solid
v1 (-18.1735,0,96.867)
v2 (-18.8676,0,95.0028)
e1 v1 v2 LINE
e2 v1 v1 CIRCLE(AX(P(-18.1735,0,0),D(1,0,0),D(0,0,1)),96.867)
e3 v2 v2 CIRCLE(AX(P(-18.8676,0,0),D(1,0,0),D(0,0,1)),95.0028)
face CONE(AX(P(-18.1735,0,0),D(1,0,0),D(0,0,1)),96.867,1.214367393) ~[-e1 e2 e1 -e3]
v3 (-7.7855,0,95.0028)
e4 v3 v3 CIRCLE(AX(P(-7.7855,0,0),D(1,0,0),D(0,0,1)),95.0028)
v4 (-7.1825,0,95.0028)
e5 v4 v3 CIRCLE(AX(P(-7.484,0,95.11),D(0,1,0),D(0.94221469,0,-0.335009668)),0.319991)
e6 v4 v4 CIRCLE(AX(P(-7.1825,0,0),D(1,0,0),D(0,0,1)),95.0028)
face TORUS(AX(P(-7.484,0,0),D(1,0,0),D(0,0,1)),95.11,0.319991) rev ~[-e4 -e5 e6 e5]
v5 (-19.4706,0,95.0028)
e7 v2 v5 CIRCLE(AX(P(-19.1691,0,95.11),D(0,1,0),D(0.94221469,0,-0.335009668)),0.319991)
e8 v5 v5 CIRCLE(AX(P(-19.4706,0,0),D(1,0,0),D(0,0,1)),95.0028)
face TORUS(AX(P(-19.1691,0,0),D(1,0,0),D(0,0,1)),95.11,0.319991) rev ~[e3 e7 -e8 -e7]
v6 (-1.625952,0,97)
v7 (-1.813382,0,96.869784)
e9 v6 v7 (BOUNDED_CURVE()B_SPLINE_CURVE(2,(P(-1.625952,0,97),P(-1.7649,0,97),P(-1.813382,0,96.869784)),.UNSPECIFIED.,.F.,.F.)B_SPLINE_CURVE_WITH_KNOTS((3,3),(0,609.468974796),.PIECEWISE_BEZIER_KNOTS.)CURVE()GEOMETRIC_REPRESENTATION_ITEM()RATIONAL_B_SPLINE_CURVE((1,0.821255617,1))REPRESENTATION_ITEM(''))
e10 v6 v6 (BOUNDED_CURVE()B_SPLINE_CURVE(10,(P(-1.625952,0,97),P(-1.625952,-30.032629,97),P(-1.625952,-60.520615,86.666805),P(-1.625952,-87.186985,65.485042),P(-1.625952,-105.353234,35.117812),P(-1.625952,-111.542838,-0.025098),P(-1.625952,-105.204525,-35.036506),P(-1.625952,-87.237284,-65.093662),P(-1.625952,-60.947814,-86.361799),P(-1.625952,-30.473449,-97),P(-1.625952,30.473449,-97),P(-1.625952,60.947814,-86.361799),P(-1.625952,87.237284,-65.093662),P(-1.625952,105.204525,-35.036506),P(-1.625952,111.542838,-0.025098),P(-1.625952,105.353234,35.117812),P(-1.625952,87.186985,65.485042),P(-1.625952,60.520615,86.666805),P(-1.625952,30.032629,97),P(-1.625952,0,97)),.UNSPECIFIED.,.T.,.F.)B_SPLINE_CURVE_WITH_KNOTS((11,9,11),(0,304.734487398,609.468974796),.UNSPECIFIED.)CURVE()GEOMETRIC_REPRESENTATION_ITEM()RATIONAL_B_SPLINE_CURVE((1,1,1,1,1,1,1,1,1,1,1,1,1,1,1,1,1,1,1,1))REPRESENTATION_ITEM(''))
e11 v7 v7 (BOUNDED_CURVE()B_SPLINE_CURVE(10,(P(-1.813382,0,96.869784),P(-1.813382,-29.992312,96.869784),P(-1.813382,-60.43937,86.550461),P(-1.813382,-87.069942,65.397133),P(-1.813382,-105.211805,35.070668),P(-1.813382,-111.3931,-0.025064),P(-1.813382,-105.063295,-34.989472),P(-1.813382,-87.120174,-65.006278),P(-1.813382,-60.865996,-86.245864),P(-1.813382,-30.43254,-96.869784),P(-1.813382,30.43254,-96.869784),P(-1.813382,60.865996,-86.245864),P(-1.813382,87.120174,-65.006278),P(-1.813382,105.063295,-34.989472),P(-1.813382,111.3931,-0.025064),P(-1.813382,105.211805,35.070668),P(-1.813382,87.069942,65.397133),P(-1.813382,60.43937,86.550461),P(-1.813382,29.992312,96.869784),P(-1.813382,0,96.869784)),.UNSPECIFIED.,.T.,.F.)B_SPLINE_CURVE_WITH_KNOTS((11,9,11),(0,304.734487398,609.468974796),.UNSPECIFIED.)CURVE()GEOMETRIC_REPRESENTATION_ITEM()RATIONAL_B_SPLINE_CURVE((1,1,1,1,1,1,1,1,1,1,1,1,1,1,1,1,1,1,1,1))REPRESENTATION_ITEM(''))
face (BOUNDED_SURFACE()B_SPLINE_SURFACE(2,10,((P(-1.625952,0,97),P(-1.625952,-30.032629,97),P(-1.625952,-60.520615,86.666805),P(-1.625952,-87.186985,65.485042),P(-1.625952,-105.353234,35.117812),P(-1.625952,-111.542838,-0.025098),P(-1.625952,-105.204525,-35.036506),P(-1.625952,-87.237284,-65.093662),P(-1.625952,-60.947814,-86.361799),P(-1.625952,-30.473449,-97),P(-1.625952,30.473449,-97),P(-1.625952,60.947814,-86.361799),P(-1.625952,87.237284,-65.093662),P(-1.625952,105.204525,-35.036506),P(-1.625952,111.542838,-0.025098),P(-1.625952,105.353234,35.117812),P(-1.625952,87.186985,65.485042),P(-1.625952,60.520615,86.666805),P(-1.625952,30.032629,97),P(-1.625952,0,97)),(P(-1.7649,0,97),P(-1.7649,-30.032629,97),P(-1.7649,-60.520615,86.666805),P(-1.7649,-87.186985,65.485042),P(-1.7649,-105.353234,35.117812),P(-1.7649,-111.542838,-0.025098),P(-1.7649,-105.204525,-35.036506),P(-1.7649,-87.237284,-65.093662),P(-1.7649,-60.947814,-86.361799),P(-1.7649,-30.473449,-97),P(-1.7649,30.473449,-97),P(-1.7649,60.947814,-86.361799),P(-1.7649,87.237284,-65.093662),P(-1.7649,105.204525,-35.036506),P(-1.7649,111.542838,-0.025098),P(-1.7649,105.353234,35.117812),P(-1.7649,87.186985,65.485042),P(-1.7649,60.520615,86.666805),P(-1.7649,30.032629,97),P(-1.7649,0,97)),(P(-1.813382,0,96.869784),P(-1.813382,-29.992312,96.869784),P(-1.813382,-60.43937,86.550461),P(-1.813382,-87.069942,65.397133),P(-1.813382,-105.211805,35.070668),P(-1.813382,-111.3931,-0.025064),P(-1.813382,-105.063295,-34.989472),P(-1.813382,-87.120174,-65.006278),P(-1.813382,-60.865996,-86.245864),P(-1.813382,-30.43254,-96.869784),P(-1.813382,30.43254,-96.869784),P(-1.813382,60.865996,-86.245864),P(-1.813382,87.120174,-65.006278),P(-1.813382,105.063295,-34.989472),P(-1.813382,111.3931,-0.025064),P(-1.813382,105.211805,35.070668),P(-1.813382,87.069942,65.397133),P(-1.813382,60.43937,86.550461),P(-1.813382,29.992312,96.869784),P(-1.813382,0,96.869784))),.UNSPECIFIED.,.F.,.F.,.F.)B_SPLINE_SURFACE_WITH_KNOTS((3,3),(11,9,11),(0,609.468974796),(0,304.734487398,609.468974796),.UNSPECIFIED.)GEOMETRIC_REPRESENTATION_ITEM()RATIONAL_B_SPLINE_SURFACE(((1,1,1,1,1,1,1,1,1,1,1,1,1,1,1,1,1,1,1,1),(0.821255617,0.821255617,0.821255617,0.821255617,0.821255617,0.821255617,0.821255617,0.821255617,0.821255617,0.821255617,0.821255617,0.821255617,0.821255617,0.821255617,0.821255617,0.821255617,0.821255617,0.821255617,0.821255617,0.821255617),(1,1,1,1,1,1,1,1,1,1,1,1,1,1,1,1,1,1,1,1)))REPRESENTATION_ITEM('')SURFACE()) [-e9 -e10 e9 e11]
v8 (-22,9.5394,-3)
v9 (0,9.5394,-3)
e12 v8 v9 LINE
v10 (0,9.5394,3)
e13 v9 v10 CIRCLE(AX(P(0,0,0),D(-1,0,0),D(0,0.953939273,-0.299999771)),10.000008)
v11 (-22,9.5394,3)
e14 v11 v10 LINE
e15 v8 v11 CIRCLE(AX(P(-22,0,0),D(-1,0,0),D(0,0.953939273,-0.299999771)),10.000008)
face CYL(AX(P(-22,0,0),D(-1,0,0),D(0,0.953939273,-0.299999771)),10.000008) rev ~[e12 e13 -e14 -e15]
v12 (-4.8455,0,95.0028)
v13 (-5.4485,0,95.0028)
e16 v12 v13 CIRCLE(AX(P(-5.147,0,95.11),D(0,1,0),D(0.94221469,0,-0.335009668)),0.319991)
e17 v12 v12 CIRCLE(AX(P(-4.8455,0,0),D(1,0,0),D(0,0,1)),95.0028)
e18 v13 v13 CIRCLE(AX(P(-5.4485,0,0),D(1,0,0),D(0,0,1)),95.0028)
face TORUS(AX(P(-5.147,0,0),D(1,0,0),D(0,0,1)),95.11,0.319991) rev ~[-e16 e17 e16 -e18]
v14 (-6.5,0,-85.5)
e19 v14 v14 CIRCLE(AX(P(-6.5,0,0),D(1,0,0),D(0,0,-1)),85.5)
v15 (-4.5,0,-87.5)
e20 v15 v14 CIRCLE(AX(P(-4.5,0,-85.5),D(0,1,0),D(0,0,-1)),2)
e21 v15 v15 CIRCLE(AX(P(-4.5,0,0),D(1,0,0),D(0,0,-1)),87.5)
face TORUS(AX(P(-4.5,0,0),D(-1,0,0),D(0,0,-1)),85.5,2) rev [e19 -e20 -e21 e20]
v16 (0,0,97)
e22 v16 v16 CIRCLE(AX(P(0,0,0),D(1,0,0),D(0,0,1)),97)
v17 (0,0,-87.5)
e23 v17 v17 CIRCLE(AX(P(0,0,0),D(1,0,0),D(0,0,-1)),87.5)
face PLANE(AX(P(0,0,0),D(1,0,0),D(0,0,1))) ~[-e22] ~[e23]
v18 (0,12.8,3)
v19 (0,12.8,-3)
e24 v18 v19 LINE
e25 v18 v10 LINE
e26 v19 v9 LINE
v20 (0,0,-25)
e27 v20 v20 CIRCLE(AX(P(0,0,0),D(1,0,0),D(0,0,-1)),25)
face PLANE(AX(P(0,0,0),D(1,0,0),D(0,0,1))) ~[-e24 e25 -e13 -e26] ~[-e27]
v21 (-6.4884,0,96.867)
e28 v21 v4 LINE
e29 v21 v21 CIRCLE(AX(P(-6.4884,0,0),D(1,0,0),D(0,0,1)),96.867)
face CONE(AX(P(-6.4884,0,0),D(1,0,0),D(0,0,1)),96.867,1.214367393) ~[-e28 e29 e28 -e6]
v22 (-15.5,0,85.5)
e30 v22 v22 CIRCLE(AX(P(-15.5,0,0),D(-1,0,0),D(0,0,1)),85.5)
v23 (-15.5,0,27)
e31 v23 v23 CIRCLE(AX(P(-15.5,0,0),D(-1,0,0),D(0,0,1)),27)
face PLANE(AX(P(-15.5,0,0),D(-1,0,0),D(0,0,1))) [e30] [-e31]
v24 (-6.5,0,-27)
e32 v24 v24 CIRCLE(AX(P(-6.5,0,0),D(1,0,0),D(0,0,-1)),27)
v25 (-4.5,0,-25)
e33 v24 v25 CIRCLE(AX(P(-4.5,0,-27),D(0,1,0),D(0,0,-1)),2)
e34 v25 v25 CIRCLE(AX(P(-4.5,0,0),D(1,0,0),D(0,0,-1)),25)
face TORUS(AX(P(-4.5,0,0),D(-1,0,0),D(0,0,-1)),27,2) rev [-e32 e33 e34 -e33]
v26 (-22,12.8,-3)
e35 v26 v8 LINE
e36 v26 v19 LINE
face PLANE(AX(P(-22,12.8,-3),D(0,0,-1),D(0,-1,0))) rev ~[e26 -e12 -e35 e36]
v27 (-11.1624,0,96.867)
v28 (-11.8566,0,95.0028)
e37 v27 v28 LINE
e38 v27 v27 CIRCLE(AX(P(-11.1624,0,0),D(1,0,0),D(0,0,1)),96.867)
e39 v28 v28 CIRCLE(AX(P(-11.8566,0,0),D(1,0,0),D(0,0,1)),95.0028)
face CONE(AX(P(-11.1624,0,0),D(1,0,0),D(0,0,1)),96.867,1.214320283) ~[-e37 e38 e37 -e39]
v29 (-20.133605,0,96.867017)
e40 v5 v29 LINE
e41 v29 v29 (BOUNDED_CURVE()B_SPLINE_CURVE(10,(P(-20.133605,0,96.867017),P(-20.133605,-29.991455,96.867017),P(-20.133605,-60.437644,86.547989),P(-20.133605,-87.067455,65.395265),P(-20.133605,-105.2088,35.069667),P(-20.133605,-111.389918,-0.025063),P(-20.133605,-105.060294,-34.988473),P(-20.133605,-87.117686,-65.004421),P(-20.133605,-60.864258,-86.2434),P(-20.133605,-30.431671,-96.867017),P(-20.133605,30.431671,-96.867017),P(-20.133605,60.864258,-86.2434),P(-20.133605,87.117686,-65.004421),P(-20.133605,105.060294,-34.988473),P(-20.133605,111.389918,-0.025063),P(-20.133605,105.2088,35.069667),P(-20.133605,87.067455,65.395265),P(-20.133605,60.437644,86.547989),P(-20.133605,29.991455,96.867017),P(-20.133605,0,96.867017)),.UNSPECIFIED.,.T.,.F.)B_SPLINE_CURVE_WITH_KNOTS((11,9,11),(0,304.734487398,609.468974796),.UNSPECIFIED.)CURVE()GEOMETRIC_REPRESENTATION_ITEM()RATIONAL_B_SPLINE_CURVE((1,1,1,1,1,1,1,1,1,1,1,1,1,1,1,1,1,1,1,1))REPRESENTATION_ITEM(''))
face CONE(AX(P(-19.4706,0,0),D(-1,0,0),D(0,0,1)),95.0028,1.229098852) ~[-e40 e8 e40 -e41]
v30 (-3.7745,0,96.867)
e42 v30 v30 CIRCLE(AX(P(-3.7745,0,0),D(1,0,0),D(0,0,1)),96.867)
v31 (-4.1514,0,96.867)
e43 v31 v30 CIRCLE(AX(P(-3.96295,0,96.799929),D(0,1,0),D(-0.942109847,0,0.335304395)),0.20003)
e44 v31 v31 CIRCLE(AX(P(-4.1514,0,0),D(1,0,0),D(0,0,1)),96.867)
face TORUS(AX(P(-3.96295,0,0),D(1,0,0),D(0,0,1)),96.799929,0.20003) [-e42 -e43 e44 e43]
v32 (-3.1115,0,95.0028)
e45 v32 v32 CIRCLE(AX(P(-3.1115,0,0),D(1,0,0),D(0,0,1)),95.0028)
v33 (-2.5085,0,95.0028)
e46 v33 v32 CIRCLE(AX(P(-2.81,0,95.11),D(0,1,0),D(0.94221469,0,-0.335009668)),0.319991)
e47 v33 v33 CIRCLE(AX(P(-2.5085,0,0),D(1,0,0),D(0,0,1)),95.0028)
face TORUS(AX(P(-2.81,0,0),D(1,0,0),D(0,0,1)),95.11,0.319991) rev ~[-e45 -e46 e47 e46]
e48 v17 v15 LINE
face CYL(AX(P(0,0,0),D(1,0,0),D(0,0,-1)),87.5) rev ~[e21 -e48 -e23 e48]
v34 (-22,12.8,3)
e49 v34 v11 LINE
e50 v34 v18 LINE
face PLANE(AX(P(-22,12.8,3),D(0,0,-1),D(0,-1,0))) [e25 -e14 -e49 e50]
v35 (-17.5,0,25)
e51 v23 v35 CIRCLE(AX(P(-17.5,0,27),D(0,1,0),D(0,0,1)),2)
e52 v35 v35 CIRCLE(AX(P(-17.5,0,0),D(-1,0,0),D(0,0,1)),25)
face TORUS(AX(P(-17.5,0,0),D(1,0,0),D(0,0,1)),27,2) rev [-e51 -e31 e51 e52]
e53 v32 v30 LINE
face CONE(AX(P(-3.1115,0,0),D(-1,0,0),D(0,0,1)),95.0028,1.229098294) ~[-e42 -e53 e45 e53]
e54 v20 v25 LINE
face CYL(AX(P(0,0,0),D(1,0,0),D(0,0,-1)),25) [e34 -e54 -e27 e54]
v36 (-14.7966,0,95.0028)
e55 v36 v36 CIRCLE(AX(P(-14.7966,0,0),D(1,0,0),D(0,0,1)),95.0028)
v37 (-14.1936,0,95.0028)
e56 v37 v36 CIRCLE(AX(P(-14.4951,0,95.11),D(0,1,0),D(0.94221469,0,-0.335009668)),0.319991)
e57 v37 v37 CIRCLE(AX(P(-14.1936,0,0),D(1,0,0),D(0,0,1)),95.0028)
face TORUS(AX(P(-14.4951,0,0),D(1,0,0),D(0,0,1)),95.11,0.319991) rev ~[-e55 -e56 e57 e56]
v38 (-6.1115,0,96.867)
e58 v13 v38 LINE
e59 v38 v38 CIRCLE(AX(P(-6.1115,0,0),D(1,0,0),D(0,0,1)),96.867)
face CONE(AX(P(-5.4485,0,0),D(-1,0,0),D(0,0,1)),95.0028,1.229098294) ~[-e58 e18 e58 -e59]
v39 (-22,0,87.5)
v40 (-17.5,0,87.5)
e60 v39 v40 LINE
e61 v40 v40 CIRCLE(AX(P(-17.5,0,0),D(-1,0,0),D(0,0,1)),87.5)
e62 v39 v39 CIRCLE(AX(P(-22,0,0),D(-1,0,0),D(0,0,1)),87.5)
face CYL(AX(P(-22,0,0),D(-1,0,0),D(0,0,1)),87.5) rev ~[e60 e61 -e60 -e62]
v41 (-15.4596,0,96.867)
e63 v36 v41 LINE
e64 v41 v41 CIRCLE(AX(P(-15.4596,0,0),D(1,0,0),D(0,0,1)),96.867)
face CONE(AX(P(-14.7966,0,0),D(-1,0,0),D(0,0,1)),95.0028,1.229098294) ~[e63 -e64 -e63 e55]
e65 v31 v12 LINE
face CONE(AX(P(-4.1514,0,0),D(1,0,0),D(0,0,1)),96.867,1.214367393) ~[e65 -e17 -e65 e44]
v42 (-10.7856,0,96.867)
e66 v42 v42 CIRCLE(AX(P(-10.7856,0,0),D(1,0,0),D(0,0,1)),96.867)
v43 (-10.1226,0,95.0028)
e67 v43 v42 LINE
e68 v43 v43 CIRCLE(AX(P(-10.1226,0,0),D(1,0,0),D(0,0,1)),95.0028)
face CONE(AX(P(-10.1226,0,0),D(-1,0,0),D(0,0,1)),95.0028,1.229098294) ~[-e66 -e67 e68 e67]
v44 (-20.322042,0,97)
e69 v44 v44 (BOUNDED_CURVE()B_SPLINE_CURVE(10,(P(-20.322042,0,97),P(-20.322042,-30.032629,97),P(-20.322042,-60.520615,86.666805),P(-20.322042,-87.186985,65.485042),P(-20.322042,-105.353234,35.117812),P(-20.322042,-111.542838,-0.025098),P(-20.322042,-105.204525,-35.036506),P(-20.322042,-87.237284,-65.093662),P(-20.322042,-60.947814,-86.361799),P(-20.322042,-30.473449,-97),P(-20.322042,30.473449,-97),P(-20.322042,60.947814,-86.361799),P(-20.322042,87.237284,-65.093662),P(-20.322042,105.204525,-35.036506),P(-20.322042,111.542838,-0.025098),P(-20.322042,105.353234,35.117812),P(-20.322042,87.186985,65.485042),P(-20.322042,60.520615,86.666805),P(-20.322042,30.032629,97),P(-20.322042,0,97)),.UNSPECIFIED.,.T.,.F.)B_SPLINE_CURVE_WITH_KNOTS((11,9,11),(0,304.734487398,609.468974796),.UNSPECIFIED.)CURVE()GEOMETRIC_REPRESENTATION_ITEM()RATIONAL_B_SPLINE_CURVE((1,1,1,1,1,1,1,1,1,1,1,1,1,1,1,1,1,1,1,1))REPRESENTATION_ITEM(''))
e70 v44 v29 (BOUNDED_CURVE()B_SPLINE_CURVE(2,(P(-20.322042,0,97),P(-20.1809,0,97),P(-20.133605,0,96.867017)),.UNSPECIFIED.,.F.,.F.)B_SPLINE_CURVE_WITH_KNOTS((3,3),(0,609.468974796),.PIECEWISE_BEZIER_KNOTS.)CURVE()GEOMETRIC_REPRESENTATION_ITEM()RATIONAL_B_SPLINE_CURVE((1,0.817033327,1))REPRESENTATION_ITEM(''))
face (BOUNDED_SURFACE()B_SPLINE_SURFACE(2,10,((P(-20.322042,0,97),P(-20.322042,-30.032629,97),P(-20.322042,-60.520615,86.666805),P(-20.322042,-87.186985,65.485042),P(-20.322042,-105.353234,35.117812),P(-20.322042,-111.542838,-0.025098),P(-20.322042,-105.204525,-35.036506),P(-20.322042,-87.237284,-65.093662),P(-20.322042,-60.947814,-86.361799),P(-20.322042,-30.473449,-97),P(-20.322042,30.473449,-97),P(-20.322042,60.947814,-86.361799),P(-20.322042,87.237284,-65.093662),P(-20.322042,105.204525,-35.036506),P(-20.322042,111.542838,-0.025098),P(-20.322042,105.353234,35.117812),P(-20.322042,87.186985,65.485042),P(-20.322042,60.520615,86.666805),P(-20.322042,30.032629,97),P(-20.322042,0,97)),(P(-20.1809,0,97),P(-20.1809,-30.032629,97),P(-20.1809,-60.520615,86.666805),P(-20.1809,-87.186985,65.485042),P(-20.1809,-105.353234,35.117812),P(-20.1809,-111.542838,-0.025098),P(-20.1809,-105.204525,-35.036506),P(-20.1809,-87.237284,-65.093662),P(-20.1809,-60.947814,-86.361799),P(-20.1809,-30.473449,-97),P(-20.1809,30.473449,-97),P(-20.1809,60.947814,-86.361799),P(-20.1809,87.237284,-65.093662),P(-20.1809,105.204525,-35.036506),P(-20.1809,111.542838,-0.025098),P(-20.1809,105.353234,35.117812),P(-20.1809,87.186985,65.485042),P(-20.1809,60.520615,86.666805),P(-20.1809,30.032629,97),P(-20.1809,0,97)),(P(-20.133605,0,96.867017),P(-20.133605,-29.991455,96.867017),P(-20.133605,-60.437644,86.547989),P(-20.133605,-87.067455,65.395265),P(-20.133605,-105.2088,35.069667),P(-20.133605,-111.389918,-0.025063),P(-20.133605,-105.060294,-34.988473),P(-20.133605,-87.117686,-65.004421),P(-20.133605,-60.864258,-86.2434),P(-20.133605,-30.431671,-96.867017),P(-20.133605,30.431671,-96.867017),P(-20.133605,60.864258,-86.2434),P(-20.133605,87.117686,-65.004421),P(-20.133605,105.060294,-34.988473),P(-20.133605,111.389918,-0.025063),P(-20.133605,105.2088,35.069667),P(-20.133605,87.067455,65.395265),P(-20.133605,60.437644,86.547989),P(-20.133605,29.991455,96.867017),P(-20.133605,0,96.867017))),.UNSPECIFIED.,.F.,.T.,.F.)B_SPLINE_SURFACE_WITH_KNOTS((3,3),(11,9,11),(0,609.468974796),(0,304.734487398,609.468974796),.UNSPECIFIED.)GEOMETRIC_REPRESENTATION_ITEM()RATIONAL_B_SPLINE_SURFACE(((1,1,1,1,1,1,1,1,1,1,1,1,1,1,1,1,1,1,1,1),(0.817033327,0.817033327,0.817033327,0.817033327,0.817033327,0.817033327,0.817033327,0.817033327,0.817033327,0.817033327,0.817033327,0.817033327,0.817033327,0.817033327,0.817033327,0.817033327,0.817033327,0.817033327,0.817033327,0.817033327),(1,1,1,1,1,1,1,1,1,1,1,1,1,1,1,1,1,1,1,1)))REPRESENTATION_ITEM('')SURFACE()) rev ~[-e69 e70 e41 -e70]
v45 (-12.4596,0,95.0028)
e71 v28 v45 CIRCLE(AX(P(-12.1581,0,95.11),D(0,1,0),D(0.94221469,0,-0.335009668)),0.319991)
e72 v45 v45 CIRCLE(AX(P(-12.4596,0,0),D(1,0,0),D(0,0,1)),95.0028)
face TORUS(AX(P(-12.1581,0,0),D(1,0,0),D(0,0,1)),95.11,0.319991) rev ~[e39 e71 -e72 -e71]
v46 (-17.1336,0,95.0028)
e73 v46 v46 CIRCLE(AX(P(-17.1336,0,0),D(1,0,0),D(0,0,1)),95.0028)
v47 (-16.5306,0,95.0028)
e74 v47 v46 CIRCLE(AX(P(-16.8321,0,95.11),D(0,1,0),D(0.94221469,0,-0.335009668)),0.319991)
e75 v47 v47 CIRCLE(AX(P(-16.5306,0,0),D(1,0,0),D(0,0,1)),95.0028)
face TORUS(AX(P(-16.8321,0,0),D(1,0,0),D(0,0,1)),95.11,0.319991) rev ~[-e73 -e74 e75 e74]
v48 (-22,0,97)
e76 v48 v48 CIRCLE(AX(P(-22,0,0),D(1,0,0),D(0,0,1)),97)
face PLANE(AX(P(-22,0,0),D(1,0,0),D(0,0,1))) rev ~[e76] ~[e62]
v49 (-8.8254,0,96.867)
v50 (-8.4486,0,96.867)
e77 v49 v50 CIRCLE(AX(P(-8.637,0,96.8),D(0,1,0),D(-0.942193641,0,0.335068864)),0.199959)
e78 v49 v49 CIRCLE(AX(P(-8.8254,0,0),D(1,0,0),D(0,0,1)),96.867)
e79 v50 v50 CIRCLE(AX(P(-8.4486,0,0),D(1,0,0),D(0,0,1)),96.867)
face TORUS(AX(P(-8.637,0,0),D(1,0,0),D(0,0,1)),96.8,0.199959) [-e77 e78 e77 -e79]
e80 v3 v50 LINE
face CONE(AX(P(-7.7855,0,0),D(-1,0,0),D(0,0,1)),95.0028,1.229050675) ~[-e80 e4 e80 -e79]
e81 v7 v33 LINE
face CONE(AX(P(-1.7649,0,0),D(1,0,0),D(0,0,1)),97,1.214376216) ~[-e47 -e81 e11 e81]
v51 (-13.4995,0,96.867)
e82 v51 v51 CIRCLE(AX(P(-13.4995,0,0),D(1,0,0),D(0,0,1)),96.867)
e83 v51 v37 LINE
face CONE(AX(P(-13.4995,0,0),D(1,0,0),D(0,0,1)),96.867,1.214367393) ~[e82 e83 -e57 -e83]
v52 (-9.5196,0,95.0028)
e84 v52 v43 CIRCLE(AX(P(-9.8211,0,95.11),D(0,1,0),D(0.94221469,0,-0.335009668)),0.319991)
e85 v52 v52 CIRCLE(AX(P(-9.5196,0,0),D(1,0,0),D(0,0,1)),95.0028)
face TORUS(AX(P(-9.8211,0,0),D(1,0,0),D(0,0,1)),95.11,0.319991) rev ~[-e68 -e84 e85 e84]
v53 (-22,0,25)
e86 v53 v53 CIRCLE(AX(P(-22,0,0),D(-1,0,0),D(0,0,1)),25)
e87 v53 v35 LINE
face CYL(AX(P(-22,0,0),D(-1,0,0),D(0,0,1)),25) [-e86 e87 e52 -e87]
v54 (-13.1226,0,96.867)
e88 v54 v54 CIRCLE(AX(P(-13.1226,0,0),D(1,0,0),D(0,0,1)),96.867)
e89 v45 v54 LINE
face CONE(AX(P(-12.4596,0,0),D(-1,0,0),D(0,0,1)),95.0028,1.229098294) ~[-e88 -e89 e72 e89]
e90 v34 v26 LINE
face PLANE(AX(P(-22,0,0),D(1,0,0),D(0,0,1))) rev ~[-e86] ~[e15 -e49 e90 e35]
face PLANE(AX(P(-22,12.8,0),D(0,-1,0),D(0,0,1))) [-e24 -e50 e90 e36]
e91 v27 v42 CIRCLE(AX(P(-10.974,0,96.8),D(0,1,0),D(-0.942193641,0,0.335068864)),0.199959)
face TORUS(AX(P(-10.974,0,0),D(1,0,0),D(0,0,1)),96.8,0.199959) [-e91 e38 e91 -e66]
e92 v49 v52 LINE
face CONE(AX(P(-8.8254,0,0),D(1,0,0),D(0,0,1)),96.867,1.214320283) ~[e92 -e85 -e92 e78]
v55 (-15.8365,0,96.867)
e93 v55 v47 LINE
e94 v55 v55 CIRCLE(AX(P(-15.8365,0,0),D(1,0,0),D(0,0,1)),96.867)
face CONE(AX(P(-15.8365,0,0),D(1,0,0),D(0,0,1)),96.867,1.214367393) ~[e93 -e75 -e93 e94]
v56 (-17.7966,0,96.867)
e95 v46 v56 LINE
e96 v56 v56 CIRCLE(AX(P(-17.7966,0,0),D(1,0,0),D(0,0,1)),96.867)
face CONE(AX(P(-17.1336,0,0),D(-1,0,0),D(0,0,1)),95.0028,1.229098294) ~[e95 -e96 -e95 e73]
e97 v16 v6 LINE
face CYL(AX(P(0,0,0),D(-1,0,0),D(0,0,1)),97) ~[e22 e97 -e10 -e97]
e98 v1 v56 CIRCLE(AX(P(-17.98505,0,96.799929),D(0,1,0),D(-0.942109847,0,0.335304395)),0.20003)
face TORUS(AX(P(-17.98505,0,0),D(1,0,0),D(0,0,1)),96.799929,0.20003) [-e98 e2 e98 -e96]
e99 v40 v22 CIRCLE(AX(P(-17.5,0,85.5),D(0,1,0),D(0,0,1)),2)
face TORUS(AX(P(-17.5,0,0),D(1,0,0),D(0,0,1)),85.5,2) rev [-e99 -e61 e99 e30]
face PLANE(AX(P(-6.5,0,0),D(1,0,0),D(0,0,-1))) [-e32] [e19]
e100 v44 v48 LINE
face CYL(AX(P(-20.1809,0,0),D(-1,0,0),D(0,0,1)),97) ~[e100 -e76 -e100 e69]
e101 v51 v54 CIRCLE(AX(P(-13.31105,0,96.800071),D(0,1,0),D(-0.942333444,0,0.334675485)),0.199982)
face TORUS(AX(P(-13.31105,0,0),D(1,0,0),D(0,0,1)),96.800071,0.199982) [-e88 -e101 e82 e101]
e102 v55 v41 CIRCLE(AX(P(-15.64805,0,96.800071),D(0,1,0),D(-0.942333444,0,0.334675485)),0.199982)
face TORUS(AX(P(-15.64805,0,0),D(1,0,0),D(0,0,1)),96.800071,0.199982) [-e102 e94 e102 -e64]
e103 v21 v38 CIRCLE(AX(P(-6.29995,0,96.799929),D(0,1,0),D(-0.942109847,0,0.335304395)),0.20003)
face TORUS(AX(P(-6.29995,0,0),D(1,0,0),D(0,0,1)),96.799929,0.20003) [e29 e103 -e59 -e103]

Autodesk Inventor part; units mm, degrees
ref_plane "YZ Plane" through (0, 0, 0) normal (1, 0, 0) x (0, 1, 0)
ref_plane "XZ Plane" through (0, 0, 0) normal (0, 1, 0) x (-1, 0, 0)
ref_plane "XY Plane" through (0, 0, 0) normal (0, 0, 1) x (1, 0, 0)
sketch "Sketch1" plane through (0, 0, 0) normal (0, 1, 0) x (-1, 0, 0)
  line L0 (7.7855, 95.0028) -> (8.4486, 96.867)
  line L1 (6.4884, 96.867) -> (7.1825, 95.0028)
  arc A0 (8.8254, 96.867) -> (8.4486, 96.867) centre (8.637, 96.8) ccw
  arc A1 (6.4884, 96.867) -> (6.1115, 96.867) centre (6.3, 96.8) ccw
  arc A2 (4.8455, 95.0028) -> (5.4485, 95.0028) centre (5.147, 95.11) ccw
  arc A3 (9.5196, 95.0028) -> (10.1226, 95.0028) centre (9.8211, 95.11) ccw
  line L2 (8.8254, 96.867) -> (9.5196, 95.0028)
  line L3 (10.1226, 95.0028) -> (10.7856, 96.867)
  line L4 (4.1514, 96.867) -> (4.8455, 95.0028)
  arc A4 (11.1624, 96.867) -> (10.7856, 96.867) centre (10.974, 96.8) ccw
  arc A5 (4.1514, 96.867) -> (3.7745, 96.867) centre (3.963, 96.8) ccw
  line L5 (3.1115, 95.0028) -> (3.7745, 96.867)
  line L6 (11.1624, 96.867) -> (11.8566, 95.0028)
  arc A6 (2.5085, 95.0028) -> (3.1115, 95.0028) centre (2.81, 95.11) ccw
  arc A7 (11.8566, 95.0028) -> (12.4596, 95.0028) centre (12.1581, 95.11) ccw
  line L7 (12.4596, 95.0028) -> (13.1226, 96.867)
  line L8 (1.7649, 97) -> (2.5085, 95.0028)
  arc A8 (13.4995, 96.867) -> (13.1226, 96.867) centre (13.311, 96.8) ccw
  line L9 (13.4995, 96.867) -> (14.1936, 95.0028)
  line L10 (0, 97) -> (1.7649, 97)
  arc A9 (15.8365, 96.867) -> (15.4596, 96.867) centre (15.648, 96.8) ccw
  arc A10 (16.5306, 95.0028) -> (17.1336, 95.0028) centre (16.8321, 95.11) ccw
  line L11 (17.1336, 95.0028) -> (17.7966, 96.867)
  line L12 (18.1735, 96.867) -> (18.8676, 95.0028)
  arc A11 (18.8676, 95.0028) -> (19.4706, 95.0028) centre (19.1691, 95.11) ccw
  line L13 (19.4706, 95.0028) -> (20.1809, 97)
  line L14 (20.1809, 97) -> (22, 97)
  line L15 (0, 0) -> (0, 97)
  line L16 (22, 0) -> (0, 0)
  line L17 (22, 0) -> (0, 0)
  line L18 (22, 97) -> (22, 0)
  arc A12 (14.1936, 95.0028) -> (14.7966, 95.0028) centre (14.4951, 95.11) ccw
  line L19 (5.4485, 95.0028) -> (6.1115, 96.867)
  arc A13 (7.1825, 95.0028) -> (7.7855, 95.0028) centre (7.484, 95.11) ccw
  arc A14 (18.1735, 96.867) -> (17.7966, 96.867) centre (17.9851, 96.8) ccw
  line L20 (15.8365, 96.867) -> (16.5306, 95.0028)
  line L21 (14.7966, 95.0028) -> (15.4596, 96.867)
  dimension "d0" = 0
  dimension "d1" = 22
  dimension "d2" = 97
  dimension "d3" = 97
  dimension "d4" = 1.7649
  dimension "d5" = 90
  dimension "d6" = 40
  dimension "d7" = 40
  dimension "d8" = 40
  dimension "d9" = 40
  dimension "d10" = 40
  dimension "d11" = 40
  dimension "d12" = 40
  dimension "d13" = 40
  dimension "d14" = 1.8191
  dimension "d15" = 2.8309
  dimension "d16" = 4.0149
  dimension "d17" = 5.1679
  dimension "d18" = 6.352
  dimension "d19" = 7.5049
  dimension "d20" = 8.689
  dimension "d21" = 9.8419
  dimension "d22" = 11.026
  dimension "d23" = 12.179
  dimension "d24" = 13.363
  dimension "d25" = 14.516
  dimension "d26" = 15.7
  dimension "d27" = 16.853
  dimension "d28" = 2.81
  dimension "d29" = 3.9629
  dimension "d30" = 0.32
  dimension "d31" = 0.2
  dimension "d32" = 0.32
  dimension "d33" = 0.2
  dimension "d34" = 0.32
  dimension "d35" = 0.2
  dimension "d36" = 0.32
  dimension "d37" = 0.2
  dimension "d38" = 0.32
  dimension "d39" = 0.2
  dimension "d40" = 0.32
  dimension "d41" = 0.2
  dimension "d42" = 0.32
  dimension "d43" = 0.2
  dimension "d44" = 0.32
  dimension "d46" = 1.89
  dimension "d47" = 0.2
  dimension "d48" = 1.89
  dimension "d49" = 1.89
  dimension "d50" = 0.2
  dimension "d51" = 0.2
  dimension "d52" = 1.89
  dimension "d53" = 0.2
  dimension "d54" = 1.89
  dimension "d55" = 0.2
  dimension "d56" = 1.89
  dimension "d57" = 0.2
  dimension "d58" = 0.2
  dimension "d59" = 1.89
  dimension "d60" = 1.89
  dimension "d61" = 109.578
  dimension "d62" = 110.422
revolve "Revolution1" add sketch "Sketch1" angle 360 about axis through (-22, 0, 0) along (1, 0, 0)
sketch "Sketch2" plane through (0, 0, 0) normal (1, 0, 0) x (0, 0, -1)
  circle A0 centre (0, 0) radius 87.5
  circle A1 centre (0, 0) radius 25
  dimension "d63" = 175
  dimension "d64" = 50
extrude "Extrusion1" cut sketch "Sketch2" against normal blind 6.5
sketch "Sketch3" plane through (-22, 0, 0) normal (-1, 0, 0) x (0, 0, 1)
  circle A0 centre (0, 0) radius 87.5
  circle A1 centre (0, 0) radius 25
  dimension "d67" = 175
  dimension "d68" = 50
extrude "Extrusion2" cut sketch "Sketch3" against normal blind 6.5
fillet "Fillet1" radius 2 4 edges at (-6.5, 0, 87.5) (-6.5, 0, 25) (-15.5, 0, -25) (-15.5, 0, -87.5)
sketch "Sketch4" plane through (-22, 0, 0) normal (-1, 0, 0) x (0, 0, 1)
  arc A0 (-3, 9.5394) -> (3, 9.5394) centre (0, 0) ccw
  line L0 (0, 12.8) -> (-3, 12.8)
  line L1 (-3, 12.8) -> (-3, 9.5394)
  line L2 (0, 12.8) -> (3, 12.8)
  line L3 (3, 12.8) -> (3, 9.5394)
  point P0 (-1.5, 12.8)
  point P1 (0, 11.4)
  dimension "d72" = 20
  dimension "d73" = 12.8
  dimension "d75" = 0
  dimension "d76" = 6
  dimension "d79" = 3
  dimension "d80" = 3
  dimension "d81" = 3
  dimension "d82" = 12.8
extrude "Extrusion3" cut sketch "Sketch4" against normal blind 30
fillet "Fillet2" radius 0.2 2 edges at (-1.7649, 0, -97) (-20.1809, 0, -97)
properties part number "29-10-201"
